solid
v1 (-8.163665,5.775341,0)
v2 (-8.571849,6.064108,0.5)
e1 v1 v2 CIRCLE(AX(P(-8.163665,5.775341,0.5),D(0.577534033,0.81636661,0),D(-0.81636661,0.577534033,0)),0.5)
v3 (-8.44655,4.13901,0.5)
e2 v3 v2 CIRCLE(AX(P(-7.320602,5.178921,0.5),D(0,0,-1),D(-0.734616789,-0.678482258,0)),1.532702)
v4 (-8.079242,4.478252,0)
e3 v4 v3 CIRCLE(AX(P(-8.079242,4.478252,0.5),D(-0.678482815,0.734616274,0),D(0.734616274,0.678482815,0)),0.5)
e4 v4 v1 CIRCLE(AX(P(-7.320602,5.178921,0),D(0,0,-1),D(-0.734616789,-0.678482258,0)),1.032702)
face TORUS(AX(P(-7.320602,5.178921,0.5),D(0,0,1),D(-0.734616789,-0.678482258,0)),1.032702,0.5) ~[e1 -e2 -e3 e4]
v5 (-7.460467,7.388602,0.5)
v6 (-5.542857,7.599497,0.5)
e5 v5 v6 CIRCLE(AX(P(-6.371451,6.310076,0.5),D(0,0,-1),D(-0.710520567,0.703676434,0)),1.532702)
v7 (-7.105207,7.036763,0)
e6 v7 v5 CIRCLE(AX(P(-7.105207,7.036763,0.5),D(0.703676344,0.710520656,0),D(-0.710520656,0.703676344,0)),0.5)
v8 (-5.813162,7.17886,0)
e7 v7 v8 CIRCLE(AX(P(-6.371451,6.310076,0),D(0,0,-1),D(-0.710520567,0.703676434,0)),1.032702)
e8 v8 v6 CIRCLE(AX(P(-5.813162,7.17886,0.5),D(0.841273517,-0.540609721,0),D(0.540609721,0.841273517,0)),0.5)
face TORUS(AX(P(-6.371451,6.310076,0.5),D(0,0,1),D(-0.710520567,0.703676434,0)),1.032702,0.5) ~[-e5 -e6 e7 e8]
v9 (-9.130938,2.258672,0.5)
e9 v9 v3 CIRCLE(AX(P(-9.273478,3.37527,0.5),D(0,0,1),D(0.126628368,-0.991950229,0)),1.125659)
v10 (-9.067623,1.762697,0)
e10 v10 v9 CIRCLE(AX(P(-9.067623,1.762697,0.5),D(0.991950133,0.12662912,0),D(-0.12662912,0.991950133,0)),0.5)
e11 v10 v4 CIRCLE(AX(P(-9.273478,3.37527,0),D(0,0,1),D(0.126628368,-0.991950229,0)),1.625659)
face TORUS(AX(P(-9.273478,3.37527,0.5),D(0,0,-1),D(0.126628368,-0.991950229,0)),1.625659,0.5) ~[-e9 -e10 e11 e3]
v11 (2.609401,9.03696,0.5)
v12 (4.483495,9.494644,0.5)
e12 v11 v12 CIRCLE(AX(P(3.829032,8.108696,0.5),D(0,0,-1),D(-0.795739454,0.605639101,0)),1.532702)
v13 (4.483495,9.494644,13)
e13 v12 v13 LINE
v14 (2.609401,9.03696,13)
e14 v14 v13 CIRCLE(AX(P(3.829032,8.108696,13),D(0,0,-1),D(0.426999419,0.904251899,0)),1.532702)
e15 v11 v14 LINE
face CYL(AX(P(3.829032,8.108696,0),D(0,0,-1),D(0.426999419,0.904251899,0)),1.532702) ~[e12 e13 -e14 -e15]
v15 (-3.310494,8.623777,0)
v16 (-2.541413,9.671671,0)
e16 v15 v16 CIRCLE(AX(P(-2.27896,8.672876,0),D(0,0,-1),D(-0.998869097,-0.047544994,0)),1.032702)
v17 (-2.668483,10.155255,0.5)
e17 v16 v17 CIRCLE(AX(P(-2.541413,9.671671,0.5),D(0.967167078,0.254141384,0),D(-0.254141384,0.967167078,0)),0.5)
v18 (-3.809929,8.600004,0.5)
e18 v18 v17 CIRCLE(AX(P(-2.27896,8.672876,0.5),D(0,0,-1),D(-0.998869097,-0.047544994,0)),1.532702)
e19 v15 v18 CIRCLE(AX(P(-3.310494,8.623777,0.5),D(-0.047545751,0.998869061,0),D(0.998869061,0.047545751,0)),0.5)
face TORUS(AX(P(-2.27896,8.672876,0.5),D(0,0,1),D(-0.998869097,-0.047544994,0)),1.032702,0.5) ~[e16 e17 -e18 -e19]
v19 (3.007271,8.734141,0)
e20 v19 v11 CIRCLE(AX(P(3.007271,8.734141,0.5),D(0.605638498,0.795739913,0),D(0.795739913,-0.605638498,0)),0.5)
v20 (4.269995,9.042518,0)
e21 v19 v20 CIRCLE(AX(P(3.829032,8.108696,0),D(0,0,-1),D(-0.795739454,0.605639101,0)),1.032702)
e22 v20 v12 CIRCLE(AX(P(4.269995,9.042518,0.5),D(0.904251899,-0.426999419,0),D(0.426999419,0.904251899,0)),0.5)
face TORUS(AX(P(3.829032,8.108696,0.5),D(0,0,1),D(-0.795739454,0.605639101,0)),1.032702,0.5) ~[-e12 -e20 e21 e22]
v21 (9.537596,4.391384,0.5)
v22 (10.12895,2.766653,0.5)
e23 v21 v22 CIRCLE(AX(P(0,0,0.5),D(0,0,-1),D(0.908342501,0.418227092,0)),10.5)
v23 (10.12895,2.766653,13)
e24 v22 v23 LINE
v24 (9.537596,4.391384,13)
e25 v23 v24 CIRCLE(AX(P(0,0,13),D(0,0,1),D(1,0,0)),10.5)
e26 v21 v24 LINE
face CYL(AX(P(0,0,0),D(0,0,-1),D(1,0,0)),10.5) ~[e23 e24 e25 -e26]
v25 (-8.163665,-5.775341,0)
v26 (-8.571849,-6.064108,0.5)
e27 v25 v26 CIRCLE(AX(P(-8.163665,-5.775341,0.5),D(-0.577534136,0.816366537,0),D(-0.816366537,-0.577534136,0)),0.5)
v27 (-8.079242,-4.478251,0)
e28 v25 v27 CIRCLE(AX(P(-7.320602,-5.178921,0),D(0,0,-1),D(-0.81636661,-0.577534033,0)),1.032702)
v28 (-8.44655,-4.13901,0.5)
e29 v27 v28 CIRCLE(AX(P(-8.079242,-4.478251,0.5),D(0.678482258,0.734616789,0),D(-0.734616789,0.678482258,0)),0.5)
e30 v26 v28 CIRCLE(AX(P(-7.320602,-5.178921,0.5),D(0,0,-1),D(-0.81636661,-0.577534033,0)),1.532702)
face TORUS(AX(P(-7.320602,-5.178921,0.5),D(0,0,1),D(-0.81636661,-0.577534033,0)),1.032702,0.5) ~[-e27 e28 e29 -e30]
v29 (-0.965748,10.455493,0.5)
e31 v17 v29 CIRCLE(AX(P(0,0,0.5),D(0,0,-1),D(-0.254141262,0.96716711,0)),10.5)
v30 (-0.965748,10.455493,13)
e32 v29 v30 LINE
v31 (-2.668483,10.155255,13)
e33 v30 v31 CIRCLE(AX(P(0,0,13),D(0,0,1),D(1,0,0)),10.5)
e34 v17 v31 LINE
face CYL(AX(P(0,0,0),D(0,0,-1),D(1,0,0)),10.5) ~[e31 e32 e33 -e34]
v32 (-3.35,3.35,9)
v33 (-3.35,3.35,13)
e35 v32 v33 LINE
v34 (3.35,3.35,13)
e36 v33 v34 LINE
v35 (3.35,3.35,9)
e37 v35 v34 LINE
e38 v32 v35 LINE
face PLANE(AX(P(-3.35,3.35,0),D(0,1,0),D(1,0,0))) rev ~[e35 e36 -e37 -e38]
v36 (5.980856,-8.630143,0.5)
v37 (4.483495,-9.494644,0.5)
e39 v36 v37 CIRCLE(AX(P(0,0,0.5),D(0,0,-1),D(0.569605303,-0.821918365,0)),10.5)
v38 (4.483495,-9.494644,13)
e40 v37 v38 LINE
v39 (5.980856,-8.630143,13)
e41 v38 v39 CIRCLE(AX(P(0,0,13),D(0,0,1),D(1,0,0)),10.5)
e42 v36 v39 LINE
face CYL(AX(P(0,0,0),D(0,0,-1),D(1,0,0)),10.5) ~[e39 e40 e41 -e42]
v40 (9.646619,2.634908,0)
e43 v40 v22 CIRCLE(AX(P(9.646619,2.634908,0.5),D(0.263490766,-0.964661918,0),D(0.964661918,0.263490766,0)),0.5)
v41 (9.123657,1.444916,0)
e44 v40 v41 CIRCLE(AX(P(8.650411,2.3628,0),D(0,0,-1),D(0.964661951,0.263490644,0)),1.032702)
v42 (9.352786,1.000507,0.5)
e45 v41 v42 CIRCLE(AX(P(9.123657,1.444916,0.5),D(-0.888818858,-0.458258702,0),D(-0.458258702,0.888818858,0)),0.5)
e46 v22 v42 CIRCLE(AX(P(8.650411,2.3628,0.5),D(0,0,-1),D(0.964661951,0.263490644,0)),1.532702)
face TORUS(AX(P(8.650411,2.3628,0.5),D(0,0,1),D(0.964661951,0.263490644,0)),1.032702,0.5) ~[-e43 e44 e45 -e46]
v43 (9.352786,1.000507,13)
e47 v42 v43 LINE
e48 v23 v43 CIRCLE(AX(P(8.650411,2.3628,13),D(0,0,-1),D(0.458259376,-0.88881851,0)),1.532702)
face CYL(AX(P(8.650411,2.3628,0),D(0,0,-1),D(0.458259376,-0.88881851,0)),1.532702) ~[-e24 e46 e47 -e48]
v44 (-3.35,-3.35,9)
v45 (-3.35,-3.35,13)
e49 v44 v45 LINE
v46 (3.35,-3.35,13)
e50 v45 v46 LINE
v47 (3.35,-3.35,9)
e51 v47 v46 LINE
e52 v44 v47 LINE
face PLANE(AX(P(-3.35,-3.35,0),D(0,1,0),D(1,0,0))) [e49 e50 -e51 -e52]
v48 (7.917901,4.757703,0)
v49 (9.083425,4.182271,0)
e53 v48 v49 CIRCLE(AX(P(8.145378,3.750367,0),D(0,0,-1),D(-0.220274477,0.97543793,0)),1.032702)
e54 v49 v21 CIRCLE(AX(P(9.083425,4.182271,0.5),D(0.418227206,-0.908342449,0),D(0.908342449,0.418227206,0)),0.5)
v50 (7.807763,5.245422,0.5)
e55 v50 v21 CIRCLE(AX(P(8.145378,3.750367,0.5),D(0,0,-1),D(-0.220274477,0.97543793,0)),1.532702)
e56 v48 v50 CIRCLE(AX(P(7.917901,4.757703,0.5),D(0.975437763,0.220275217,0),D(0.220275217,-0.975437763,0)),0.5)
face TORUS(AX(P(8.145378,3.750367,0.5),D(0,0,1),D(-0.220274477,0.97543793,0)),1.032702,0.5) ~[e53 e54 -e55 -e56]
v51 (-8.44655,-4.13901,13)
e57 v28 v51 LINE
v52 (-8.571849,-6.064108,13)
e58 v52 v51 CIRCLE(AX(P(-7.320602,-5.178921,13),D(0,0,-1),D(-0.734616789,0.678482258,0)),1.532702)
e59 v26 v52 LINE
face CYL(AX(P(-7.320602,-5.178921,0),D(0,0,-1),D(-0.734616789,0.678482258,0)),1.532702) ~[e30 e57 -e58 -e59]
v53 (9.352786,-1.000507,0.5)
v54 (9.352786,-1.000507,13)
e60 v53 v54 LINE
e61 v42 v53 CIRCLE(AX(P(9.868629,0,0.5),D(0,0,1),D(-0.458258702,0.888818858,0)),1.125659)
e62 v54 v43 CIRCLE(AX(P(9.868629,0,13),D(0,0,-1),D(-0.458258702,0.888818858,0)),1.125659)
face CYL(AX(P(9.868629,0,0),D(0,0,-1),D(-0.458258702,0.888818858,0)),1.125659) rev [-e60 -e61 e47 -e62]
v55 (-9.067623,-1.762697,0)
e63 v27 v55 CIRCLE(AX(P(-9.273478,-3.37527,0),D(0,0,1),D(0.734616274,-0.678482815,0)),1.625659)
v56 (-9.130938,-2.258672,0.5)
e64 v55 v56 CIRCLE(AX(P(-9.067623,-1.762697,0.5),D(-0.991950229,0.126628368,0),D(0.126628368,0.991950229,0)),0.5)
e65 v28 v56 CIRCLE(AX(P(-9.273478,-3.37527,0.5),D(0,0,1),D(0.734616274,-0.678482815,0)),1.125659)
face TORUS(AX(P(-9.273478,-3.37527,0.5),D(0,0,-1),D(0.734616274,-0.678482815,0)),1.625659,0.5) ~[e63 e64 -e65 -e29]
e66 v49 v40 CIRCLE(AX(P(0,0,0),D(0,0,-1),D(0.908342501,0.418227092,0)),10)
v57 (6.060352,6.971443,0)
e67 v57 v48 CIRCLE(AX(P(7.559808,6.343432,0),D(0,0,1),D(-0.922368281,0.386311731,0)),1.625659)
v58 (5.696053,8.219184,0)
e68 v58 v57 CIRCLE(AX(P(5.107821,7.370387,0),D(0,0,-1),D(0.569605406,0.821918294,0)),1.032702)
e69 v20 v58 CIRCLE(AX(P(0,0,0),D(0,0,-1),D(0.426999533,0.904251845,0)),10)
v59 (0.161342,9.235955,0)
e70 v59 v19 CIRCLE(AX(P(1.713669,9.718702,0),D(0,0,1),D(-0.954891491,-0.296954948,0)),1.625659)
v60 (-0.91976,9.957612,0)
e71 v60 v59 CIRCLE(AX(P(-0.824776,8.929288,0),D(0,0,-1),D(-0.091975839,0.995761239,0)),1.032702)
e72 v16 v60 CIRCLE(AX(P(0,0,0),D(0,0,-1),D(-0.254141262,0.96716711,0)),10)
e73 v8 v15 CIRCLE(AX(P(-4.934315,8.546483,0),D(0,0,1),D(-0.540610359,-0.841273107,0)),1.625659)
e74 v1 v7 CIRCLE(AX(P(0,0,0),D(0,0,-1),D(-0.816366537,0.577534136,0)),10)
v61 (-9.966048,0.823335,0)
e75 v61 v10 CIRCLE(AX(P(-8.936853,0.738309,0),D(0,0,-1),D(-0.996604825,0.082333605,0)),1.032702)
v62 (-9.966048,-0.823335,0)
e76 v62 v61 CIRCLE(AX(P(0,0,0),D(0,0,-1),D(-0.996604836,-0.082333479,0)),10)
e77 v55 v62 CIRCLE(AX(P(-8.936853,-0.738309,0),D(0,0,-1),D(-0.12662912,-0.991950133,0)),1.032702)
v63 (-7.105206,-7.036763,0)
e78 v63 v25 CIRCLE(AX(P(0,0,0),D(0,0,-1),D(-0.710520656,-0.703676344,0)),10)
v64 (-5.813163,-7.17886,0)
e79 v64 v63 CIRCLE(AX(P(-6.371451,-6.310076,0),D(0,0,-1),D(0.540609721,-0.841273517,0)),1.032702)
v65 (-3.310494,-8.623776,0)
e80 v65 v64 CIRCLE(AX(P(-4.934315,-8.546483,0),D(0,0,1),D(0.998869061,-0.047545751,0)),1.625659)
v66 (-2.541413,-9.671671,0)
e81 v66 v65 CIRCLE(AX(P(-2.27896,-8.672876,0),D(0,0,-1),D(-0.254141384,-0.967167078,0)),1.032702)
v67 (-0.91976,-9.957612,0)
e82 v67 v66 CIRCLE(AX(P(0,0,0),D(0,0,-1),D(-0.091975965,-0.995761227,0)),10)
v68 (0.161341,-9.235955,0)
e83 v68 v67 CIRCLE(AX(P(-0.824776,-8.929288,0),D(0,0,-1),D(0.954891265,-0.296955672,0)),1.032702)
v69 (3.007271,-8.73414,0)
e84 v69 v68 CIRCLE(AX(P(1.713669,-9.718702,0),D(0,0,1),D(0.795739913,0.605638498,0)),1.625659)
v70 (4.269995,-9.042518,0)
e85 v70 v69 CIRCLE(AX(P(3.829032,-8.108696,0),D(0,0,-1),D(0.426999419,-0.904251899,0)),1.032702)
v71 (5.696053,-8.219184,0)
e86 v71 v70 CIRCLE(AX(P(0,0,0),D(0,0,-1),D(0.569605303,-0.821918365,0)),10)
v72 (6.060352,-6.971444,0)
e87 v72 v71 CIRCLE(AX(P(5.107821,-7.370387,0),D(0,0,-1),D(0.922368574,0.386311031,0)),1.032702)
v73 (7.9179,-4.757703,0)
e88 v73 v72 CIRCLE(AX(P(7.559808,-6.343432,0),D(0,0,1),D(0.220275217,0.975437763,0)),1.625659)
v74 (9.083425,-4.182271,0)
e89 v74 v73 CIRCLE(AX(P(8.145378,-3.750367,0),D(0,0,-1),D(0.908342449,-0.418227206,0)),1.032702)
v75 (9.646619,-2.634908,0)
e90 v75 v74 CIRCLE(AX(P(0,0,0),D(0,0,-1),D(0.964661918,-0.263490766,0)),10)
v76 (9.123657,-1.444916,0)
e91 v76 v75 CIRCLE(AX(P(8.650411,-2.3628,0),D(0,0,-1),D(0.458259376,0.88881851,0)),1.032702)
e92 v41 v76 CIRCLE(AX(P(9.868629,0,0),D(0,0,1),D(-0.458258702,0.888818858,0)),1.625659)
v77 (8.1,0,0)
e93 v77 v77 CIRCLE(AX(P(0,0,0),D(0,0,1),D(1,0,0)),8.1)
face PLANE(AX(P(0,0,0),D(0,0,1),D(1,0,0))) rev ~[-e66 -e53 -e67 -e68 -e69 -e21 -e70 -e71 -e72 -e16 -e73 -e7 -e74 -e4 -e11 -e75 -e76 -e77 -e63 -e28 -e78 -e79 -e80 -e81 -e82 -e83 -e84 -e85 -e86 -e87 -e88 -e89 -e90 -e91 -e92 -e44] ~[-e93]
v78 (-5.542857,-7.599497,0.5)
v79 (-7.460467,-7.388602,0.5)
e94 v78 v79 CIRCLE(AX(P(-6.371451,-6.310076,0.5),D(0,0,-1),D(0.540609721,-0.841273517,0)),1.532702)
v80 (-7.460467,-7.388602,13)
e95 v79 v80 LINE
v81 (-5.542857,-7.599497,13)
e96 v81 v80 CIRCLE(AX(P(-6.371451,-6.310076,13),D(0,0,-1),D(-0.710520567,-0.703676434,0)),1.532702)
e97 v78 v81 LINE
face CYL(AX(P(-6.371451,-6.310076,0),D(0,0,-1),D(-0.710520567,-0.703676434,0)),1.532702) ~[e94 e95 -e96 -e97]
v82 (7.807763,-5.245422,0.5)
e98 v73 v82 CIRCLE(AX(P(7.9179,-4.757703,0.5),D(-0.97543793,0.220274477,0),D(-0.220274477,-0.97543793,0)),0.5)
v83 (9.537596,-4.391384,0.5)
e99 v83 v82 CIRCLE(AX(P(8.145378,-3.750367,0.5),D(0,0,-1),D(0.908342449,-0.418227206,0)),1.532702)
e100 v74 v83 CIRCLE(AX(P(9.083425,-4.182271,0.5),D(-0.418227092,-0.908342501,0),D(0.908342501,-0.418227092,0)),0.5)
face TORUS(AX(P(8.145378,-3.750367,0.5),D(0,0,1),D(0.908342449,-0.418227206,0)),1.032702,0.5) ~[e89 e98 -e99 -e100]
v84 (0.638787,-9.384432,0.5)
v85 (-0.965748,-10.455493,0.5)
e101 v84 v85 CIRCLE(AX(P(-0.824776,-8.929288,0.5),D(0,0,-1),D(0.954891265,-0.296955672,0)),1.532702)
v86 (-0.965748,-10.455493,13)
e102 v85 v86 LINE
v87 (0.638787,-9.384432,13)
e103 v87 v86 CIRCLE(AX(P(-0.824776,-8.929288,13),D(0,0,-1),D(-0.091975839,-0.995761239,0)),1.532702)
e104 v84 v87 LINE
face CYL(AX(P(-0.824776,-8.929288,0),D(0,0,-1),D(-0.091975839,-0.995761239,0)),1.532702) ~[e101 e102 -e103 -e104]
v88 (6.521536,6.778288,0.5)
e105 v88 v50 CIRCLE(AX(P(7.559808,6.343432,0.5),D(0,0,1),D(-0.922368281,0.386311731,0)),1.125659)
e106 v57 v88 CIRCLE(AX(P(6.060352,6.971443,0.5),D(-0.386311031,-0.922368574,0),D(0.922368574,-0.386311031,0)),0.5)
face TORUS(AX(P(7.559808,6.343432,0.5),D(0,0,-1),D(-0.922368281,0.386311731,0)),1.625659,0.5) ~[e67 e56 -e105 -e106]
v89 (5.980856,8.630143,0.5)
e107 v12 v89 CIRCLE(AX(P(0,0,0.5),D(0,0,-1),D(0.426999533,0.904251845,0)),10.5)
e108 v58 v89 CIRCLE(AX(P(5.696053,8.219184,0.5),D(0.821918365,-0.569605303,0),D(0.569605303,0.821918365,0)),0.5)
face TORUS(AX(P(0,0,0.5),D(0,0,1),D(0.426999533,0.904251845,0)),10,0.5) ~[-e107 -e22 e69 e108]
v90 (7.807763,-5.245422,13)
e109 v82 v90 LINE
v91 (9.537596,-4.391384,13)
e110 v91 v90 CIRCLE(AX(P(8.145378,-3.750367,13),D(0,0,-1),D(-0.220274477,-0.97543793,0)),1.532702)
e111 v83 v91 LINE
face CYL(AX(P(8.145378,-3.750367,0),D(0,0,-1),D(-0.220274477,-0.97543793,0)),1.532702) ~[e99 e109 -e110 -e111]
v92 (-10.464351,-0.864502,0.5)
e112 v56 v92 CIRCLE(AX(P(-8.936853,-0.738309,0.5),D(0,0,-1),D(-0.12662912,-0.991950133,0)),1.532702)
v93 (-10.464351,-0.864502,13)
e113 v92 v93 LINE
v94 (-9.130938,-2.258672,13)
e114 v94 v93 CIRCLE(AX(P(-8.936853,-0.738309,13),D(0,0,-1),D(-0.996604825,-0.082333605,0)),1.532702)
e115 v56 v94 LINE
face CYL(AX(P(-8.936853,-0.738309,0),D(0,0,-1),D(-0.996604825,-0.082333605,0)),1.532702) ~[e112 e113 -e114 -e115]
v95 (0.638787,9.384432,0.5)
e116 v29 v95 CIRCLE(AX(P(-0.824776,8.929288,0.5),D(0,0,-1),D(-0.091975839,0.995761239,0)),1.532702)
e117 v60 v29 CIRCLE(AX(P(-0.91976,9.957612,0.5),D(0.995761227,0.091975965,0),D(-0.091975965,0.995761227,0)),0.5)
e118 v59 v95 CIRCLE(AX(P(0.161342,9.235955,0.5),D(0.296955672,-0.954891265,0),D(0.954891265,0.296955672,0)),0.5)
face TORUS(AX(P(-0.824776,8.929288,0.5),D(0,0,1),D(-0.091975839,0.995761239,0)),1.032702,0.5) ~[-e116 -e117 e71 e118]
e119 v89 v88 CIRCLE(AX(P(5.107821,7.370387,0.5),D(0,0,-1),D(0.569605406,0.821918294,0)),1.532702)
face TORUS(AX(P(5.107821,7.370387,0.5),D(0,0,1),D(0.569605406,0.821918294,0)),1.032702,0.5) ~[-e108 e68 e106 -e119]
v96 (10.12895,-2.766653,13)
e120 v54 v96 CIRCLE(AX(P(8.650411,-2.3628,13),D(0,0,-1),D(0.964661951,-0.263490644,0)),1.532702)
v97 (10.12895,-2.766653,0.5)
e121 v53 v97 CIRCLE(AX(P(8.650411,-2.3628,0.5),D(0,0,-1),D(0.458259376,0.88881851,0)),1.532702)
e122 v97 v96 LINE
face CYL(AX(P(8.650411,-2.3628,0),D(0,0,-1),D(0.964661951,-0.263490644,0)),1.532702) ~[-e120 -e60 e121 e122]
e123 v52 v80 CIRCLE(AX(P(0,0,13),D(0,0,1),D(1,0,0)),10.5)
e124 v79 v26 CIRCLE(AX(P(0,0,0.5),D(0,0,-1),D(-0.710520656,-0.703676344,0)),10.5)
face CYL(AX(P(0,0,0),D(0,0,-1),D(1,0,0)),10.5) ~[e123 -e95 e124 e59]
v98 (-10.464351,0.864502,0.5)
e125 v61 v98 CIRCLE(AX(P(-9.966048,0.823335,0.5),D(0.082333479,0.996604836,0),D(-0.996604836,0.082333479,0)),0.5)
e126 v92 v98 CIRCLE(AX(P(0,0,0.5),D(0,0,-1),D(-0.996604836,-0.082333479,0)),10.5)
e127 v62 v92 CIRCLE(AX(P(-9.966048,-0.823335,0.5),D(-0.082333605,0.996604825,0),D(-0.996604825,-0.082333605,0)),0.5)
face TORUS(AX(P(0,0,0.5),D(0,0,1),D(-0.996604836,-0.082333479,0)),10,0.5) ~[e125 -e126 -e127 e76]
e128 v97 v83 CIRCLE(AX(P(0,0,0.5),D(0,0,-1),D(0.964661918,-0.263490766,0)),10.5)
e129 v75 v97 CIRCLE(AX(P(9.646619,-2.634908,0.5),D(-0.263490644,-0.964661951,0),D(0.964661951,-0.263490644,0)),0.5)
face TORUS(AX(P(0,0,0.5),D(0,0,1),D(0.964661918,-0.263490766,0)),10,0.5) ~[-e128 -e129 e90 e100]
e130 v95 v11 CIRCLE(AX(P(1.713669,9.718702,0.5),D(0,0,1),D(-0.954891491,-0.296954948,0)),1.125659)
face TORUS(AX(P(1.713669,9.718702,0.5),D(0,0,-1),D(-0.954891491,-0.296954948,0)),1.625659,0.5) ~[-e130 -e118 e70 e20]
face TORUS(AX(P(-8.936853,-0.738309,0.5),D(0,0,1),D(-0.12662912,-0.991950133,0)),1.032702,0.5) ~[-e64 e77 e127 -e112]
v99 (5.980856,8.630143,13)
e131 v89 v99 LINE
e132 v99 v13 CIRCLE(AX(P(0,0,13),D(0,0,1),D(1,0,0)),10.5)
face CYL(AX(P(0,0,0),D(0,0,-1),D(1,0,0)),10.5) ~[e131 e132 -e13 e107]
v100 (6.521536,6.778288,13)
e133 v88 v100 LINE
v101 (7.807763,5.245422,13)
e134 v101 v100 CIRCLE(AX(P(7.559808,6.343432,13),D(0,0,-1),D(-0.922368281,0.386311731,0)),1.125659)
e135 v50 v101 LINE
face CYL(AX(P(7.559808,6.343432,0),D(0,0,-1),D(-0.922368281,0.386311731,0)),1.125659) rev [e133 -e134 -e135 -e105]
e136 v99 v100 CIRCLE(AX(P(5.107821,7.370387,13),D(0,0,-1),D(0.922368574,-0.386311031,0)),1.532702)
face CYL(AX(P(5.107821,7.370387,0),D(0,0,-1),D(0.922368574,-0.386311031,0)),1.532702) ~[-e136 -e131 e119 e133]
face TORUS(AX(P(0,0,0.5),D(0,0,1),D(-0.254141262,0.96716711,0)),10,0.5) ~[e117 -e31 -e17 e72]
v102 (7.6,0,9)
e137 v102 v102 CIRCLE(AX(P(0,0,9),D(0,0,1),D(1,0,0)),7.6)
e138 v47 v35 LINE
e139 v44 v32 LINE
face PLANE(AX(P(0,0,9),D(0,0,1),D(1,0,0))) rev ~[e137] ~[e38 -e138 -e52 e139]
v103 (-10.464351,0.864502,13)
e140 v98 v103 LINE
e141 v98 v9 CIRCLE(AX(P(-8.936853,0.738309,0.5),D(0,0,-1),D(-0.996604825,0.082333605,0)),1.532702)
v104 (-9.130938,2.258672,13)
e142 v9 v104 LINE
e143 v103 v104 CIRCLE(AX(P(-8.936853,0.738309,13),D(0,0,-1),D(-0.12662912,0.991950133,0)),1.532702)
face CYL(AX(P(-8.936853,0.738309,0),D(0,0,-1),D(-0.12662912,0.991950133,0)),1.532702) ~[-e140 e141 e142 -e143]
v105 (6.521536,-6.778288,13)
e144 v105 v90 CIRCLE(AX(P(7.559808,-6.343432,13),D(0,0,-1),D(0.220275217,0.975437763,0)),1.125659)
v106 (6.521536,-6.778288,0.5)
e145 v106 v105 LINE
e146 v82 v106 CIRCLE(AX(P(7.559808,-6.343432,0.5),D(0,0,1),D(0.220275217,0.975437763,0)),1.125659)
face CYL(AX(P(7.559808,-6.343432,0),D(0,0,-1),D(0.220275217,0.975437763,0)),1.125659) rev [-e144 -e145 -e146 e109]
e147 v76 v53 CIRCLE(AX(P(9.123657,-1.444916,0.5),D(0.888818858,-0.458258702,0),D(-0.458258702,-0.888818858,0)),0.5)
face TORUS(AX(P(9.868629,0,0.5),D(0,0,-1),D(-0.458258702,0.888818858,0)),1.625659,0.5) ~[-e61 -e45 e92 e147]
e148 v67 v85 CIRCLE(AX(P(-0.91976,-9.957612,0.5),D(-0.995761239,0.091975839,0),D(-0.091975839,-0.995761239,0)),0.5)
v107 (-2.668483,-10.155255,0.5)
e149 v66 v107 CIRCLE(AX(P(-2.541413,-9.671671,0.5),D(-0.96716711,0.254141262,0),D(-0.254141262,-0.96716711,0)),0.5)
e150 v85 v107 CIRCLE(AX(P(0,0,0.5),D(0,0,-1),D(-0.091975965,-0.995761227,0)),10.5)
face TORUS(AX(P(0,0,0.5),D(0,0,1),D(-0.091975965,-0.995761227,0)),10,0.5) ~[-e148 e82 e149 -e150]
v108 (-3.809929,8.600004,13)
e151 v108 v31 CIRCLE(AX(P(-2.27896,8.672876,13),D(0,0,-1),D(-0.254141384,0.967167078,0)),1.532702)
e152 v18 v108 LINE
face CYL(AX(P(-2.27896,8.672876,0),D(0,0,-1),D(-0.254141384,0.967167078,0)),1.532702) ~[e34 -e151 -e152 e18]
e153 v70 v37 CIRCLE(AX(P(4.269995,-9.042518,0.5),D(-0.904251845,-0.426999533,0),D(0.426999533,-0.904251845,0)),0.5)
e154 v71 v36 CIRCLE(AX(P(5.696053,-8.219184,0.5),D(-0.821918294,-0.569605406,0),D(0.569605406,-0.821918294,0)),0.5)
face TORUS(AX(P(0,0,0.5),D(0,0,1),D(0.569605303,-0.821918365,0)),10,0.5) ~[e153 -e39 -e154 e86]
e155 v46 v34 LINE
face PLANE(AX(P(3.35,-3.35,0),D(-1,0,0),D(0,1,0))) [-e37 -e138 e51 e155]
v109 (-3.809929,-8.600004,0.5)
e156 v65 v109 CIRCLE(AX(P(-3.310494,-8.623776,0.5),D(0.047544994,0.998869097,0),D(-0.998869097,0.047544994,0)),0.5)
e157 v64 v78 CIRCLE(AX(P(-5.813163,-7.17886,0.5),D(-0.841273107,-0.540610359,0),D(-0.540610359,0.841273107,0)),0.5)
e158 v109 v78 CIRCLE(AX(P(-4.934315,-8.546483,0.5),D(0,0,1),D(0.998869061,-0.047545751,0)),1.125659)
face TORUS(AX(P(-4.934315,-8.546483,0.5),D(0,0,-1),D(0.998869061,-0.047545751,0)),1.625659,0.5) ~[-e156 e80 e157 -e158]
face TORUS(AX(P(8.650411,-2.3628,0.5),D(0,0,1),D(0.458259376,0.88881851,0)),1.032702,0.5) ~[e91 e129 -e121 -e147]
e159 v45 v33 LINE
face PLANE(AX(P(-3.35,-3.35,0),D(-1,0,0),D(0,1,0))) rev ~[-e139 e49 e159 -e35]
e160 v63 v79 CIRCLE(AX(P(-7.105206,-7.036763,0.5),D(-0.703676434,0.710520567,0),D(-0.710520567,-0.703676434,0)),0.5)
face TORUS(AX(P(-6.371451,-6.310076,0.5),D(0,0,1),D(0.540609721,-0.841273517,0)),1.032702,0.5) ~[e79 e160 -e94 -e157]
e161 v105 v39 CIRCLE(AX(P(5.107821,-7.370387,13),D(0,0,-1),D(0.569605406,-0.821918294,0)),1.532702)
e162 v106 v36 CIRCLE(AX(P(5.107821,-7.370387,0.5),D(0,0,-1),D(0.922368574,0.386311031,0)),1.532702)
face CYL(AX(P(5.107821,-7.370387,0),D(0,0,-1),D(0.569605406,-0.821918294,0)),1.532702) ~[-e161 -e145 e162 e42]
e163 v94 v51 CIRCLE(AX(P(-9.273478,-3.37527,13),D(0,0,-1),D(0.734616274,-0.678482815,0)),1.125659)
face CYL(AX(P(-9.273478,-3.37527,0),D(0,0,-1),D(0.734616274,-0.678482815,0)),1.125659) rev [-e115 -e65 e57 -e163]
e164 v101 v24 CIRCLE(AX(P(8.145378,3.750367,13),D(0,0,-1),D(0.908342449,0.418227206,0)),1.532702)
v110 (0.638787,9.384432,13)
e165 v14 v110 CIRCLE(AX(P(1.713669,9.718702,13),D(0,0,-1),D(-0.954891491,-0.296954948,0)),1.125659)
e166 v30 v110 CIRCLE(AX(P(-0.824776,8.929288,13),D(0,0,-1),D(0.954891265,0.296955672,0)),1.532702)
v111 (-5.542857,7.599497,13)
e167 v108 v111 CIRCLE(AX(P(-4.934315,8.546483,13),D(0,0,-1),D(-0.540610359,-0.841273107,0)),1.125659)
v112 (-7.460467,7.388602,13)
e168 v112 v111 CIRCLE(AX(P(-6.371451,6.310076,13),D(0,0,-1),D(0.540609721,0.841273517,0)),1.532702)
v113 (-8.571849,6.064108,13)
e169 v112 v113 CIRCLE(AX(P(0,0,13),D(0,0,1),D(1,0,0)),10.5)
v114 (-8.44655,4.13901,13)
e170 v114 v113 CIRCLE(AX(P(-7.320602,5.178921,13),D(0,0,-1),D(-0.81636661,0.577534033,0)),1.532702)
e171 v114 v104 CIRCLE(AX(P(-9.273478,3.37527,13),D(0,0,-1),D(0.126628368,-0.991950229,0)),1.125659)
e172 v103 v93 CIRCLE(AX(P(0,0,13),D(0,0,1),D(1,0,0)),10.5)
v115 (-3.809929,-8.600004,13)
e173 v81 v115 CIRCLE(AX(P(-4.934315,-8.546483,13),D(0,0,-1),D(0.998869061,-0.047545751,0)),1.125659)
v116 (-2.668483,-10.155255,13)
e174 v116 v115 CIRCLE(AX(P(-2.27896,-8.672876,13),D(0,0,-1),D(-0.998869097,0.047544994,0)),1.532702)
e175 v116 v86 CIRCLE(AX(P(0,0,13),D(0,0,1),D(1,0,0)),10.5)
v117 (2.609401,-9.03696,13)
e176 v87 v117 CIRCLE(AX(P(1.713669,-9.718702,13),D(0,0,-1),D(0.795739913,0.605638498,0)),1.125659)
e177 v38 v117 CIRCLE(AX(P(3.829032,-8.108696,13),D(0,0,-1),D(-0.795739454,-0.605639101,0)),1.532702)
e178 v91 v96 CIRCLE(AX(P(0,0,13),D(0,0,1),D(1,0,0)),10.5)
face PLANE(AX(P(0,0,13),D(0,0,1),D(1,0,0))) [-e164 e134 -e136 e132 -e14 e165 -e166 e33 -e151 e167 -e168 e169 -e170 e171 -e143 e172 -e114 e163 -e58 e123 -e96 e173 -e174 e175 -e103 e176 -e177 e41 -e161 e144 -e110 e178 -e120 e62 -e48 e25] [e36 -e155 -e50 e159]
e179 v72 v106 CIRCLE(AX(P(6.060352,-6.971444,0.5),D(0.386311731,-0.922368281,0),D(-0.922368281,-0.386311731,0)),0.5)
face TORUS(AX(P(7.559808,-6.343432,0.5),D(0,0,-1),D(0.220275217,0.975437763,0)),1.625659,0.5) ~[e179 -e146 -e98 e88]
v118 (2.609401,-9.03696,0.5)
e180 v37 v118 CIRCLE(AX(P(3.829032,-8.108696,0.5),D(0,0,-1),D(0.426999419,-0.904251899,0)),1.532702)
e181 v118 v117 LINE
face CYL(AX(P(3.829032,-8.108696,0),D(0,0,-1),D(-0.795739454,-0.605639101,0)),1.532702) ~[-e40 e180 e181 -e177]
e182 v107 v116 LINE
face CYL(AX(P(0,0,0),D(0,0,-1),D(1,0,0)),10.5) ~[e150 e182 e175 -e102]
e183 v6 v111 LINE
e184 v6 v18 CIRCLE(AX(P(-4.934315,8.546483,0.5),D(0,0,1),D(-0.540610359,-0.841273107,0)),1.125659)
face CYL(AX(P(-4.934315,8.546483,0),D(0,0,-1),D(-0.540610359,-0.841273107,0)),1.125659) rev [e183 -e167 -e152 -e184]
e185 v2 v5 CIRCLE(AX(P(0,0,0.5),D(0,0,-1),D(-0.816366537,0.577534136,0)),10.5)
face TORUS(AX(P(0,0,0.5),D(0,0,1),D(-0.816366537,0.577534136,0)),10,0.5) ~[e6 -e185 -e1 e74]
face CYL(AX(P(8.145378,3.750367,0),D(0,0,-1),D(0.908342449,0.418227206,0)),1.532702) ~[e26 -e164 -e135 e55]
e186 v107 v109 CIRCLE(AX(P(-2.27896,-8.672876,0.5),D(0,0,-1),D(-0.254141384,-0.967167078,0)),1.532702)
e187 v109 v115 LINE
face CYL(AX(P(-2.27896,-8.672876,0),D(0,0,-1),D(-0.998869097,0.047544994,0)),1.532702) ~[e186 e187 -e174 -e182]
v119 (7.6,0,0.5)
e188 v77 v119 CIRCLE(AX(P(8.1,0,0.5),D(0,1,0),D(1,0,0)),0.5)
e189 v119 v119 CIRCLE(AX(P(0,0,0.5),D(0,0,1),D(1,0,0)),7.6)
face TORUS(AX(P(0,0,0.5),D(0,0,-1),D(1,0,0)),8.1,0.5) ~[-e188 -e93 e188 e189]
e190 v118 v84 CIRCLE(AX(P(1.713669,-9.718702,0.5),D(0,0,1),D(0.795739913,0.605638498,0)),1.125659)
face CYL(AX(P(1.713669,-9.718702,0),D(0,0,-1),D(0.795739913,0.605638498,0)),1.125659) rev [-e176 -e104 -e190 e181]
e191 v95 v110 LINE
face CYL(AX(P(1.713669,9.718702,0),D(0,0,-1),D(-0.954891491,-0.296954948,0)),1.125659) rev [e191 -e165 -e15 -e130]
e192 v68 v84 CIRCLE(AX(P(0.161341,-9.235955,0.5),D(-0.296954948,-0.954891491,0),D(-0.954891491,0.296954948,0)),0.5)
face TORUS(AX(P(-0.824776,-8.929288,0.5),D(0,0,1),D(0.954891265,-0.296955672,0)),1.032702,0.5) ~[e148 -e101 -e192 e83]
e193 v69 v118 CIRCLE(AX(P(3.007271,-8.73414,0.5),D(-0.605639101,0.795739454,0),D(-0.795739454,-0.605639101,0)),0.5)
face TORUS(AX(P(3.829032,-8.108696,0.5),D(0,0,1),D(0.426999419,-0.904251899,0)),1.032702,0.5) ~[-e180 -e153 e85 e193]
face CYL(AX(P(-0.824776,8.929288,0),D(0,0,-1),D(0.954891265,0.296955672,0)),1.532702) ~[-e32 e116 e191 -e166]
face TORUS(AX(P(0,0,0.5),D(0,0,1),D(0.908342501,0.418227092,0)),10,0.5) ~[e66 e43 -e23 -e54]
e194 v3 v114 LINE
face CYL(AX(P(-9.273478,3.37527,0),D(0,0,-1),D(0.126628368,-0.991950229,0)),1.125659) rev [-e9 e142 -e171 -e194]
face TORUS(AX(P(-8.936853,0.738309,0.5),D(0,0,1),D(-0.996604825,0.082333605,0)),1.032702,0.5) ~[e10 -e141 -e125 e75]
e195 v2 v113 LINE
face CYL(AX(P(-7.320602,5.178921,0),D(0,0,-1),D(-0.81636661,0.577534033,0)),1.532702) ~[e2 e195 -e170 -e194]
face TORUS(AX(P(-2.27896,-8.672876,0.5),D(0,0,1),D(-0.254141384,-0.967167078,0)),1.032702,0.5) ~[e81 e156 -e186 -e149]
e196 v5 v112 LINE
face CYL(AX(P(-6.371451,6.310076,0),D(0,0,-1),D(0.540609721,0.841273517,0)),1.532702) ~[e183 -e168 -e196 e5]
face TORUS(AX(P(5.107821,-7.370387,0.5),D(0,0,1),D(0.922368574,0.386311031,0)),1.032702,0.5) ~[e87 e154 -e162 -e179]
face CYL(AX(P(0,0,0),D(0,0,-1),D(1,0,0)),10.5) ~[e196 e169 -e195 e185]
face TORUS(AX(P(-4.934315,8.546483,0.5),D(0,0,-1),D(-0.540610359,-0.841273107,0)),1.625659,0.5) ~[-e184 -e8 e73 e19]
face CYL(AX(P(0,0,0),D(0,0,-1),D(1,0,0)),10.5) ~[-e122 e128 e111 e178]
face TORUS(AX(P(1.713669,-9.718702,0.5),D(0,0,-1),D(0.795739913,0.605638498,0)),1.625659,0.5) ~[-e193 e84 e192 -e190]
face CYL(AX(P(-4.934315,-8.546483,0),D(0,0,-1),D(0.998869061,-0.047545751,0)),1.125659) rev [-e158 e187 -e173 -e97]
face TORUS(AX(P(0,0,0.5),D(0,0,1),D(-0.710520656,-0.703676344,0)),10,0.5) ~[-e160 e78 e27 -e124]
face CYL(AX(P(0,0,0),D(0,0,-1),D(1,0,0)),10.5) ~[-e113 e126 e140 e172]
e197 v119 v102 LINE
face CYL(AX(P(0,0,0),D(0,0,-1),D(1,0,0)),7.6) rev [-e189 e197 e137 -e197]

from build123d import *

# Parameters (mm, degrees)
SKETCH_R           = 10.5
SKETCH_W           = 6.7
SKETCH_H           = 6.7
PAD_DEPTH          = 13
POCKET001_DEPTH    = 77.83926
POLARPATTERN_COUNT = 9
SKETCH003_R        = 7.6
POCKET_DEPTH       = 9
FILLET_R           = 0.5


with BuildPart() as part:
    # Sketch → Pad (new body)
    with BuildSketch(Plane.XY):
        Circle(SKETCH_R)
        Rectangle(SKETCH_W, SKETCH_H, mode=Mode.SUBTRACT)
    extrude(amount=PAD_DEPTH)

    # Sketch002 → Pocket001 (cut, through all)
    with BuildSketch(Plane.XY):
        with BuildLine():
            ThreePointArc((10.12895, -2.766653), (13.291424, 0), (10.12895, 2.766653))
            ThreePointArc((9.352786, 1.000507), (10.053591, 1.746148), (10.12895, 2.766653))
            ThreePointArc((9.352786, 1.000507), (8.74297, 0), (9.352786, -1.000507))
            ThreePointArc((10.12895, -2.766653), (10.053591, -1.746148), (9.352786, -1.000507))
        make_face()
    pocket001 = extrude(amount=POCKET001_DEPTH, mode=Mode.SUBTRACT)

    # PolarPattern: Pocket001 ×9 about axis
    polarpattern_axis = Axis((0, 0, 0), (0, 0, 1))
    for i in range(1, POLARPATTERN_COUNT):
        add(pocket001.rotate(polarpattern_axis, i * 360 / POLARPATTERN_COUNT), mode=Mode.SUBTRACT)

    # Sketch003 → Pocket (cut)
    with BuildSketch(Plane.XY):
        Circle(SKETCH003_R)
    extrude(amount=POCKET_DEPTH, mode=Mode.SUBTRACT)

    # Fillet
    fillet_edges = [part.edges().sort_by_distance(p)[0] for p in [
        (8.74297, 0, 0),
        (10.053591, 1.746148, 0),
        (10.053591, -1.746148, 0),
        (9.866773, 3.591212, 0),
        (9.866773, -3.591212, 0),
        (8.8239, 5.124697, 0),
        (8.8239, -5.124697, 0),
        (6.697503, 5.619873, 0),
        (6.697503, -5.619873, 0),
        (6.579095, 7.799951, 0),
        (6.579095, -7.799951, 0),
        (5.25, 9.093267, 0),
        (5.25, -9.093267, 0),
        (3.465408, 9.597639, 0),
        (3.465408, -9.597639, 0),
        (1.518201, 8.610144, 0),
        (1.518201, -8.610144, 0),
        (0.026168, 10.20407, 0),
        (0.026168, -10.20407, 0),
        (-1.823306, 10.340481, 0),
        (-1.823306, -10.340481, 0),
        (-3.514587, 9.57974, 0),
        (-3.514587, -9.57974, 0),
        (-4.371485, 7.571634, 0),
        (-4.371485, -7.571634, 0),
        (-6.539004, 7.833591, 0),
        (-6.539004, -7.833591, 0),
        (-8.043467, 6.74927, 0),
        (-8.043467, -6.74927, 0),
        (-8.850068, 5.079373, 0),
        (-8.850068, -5.079373, 0),
        (-8.215704, 2.990272, 0),
        (-8.215704, -2.990272, 0),
        (-10.044503, 1.797688, 0),
        (-10.044503, -1.797688, 0),
        (-10.5, 0, 0),
        (-7.6, 0, 0),
    ]]
    fillet(fillet_edges, radius=FILLET_R)


solid = part.part
